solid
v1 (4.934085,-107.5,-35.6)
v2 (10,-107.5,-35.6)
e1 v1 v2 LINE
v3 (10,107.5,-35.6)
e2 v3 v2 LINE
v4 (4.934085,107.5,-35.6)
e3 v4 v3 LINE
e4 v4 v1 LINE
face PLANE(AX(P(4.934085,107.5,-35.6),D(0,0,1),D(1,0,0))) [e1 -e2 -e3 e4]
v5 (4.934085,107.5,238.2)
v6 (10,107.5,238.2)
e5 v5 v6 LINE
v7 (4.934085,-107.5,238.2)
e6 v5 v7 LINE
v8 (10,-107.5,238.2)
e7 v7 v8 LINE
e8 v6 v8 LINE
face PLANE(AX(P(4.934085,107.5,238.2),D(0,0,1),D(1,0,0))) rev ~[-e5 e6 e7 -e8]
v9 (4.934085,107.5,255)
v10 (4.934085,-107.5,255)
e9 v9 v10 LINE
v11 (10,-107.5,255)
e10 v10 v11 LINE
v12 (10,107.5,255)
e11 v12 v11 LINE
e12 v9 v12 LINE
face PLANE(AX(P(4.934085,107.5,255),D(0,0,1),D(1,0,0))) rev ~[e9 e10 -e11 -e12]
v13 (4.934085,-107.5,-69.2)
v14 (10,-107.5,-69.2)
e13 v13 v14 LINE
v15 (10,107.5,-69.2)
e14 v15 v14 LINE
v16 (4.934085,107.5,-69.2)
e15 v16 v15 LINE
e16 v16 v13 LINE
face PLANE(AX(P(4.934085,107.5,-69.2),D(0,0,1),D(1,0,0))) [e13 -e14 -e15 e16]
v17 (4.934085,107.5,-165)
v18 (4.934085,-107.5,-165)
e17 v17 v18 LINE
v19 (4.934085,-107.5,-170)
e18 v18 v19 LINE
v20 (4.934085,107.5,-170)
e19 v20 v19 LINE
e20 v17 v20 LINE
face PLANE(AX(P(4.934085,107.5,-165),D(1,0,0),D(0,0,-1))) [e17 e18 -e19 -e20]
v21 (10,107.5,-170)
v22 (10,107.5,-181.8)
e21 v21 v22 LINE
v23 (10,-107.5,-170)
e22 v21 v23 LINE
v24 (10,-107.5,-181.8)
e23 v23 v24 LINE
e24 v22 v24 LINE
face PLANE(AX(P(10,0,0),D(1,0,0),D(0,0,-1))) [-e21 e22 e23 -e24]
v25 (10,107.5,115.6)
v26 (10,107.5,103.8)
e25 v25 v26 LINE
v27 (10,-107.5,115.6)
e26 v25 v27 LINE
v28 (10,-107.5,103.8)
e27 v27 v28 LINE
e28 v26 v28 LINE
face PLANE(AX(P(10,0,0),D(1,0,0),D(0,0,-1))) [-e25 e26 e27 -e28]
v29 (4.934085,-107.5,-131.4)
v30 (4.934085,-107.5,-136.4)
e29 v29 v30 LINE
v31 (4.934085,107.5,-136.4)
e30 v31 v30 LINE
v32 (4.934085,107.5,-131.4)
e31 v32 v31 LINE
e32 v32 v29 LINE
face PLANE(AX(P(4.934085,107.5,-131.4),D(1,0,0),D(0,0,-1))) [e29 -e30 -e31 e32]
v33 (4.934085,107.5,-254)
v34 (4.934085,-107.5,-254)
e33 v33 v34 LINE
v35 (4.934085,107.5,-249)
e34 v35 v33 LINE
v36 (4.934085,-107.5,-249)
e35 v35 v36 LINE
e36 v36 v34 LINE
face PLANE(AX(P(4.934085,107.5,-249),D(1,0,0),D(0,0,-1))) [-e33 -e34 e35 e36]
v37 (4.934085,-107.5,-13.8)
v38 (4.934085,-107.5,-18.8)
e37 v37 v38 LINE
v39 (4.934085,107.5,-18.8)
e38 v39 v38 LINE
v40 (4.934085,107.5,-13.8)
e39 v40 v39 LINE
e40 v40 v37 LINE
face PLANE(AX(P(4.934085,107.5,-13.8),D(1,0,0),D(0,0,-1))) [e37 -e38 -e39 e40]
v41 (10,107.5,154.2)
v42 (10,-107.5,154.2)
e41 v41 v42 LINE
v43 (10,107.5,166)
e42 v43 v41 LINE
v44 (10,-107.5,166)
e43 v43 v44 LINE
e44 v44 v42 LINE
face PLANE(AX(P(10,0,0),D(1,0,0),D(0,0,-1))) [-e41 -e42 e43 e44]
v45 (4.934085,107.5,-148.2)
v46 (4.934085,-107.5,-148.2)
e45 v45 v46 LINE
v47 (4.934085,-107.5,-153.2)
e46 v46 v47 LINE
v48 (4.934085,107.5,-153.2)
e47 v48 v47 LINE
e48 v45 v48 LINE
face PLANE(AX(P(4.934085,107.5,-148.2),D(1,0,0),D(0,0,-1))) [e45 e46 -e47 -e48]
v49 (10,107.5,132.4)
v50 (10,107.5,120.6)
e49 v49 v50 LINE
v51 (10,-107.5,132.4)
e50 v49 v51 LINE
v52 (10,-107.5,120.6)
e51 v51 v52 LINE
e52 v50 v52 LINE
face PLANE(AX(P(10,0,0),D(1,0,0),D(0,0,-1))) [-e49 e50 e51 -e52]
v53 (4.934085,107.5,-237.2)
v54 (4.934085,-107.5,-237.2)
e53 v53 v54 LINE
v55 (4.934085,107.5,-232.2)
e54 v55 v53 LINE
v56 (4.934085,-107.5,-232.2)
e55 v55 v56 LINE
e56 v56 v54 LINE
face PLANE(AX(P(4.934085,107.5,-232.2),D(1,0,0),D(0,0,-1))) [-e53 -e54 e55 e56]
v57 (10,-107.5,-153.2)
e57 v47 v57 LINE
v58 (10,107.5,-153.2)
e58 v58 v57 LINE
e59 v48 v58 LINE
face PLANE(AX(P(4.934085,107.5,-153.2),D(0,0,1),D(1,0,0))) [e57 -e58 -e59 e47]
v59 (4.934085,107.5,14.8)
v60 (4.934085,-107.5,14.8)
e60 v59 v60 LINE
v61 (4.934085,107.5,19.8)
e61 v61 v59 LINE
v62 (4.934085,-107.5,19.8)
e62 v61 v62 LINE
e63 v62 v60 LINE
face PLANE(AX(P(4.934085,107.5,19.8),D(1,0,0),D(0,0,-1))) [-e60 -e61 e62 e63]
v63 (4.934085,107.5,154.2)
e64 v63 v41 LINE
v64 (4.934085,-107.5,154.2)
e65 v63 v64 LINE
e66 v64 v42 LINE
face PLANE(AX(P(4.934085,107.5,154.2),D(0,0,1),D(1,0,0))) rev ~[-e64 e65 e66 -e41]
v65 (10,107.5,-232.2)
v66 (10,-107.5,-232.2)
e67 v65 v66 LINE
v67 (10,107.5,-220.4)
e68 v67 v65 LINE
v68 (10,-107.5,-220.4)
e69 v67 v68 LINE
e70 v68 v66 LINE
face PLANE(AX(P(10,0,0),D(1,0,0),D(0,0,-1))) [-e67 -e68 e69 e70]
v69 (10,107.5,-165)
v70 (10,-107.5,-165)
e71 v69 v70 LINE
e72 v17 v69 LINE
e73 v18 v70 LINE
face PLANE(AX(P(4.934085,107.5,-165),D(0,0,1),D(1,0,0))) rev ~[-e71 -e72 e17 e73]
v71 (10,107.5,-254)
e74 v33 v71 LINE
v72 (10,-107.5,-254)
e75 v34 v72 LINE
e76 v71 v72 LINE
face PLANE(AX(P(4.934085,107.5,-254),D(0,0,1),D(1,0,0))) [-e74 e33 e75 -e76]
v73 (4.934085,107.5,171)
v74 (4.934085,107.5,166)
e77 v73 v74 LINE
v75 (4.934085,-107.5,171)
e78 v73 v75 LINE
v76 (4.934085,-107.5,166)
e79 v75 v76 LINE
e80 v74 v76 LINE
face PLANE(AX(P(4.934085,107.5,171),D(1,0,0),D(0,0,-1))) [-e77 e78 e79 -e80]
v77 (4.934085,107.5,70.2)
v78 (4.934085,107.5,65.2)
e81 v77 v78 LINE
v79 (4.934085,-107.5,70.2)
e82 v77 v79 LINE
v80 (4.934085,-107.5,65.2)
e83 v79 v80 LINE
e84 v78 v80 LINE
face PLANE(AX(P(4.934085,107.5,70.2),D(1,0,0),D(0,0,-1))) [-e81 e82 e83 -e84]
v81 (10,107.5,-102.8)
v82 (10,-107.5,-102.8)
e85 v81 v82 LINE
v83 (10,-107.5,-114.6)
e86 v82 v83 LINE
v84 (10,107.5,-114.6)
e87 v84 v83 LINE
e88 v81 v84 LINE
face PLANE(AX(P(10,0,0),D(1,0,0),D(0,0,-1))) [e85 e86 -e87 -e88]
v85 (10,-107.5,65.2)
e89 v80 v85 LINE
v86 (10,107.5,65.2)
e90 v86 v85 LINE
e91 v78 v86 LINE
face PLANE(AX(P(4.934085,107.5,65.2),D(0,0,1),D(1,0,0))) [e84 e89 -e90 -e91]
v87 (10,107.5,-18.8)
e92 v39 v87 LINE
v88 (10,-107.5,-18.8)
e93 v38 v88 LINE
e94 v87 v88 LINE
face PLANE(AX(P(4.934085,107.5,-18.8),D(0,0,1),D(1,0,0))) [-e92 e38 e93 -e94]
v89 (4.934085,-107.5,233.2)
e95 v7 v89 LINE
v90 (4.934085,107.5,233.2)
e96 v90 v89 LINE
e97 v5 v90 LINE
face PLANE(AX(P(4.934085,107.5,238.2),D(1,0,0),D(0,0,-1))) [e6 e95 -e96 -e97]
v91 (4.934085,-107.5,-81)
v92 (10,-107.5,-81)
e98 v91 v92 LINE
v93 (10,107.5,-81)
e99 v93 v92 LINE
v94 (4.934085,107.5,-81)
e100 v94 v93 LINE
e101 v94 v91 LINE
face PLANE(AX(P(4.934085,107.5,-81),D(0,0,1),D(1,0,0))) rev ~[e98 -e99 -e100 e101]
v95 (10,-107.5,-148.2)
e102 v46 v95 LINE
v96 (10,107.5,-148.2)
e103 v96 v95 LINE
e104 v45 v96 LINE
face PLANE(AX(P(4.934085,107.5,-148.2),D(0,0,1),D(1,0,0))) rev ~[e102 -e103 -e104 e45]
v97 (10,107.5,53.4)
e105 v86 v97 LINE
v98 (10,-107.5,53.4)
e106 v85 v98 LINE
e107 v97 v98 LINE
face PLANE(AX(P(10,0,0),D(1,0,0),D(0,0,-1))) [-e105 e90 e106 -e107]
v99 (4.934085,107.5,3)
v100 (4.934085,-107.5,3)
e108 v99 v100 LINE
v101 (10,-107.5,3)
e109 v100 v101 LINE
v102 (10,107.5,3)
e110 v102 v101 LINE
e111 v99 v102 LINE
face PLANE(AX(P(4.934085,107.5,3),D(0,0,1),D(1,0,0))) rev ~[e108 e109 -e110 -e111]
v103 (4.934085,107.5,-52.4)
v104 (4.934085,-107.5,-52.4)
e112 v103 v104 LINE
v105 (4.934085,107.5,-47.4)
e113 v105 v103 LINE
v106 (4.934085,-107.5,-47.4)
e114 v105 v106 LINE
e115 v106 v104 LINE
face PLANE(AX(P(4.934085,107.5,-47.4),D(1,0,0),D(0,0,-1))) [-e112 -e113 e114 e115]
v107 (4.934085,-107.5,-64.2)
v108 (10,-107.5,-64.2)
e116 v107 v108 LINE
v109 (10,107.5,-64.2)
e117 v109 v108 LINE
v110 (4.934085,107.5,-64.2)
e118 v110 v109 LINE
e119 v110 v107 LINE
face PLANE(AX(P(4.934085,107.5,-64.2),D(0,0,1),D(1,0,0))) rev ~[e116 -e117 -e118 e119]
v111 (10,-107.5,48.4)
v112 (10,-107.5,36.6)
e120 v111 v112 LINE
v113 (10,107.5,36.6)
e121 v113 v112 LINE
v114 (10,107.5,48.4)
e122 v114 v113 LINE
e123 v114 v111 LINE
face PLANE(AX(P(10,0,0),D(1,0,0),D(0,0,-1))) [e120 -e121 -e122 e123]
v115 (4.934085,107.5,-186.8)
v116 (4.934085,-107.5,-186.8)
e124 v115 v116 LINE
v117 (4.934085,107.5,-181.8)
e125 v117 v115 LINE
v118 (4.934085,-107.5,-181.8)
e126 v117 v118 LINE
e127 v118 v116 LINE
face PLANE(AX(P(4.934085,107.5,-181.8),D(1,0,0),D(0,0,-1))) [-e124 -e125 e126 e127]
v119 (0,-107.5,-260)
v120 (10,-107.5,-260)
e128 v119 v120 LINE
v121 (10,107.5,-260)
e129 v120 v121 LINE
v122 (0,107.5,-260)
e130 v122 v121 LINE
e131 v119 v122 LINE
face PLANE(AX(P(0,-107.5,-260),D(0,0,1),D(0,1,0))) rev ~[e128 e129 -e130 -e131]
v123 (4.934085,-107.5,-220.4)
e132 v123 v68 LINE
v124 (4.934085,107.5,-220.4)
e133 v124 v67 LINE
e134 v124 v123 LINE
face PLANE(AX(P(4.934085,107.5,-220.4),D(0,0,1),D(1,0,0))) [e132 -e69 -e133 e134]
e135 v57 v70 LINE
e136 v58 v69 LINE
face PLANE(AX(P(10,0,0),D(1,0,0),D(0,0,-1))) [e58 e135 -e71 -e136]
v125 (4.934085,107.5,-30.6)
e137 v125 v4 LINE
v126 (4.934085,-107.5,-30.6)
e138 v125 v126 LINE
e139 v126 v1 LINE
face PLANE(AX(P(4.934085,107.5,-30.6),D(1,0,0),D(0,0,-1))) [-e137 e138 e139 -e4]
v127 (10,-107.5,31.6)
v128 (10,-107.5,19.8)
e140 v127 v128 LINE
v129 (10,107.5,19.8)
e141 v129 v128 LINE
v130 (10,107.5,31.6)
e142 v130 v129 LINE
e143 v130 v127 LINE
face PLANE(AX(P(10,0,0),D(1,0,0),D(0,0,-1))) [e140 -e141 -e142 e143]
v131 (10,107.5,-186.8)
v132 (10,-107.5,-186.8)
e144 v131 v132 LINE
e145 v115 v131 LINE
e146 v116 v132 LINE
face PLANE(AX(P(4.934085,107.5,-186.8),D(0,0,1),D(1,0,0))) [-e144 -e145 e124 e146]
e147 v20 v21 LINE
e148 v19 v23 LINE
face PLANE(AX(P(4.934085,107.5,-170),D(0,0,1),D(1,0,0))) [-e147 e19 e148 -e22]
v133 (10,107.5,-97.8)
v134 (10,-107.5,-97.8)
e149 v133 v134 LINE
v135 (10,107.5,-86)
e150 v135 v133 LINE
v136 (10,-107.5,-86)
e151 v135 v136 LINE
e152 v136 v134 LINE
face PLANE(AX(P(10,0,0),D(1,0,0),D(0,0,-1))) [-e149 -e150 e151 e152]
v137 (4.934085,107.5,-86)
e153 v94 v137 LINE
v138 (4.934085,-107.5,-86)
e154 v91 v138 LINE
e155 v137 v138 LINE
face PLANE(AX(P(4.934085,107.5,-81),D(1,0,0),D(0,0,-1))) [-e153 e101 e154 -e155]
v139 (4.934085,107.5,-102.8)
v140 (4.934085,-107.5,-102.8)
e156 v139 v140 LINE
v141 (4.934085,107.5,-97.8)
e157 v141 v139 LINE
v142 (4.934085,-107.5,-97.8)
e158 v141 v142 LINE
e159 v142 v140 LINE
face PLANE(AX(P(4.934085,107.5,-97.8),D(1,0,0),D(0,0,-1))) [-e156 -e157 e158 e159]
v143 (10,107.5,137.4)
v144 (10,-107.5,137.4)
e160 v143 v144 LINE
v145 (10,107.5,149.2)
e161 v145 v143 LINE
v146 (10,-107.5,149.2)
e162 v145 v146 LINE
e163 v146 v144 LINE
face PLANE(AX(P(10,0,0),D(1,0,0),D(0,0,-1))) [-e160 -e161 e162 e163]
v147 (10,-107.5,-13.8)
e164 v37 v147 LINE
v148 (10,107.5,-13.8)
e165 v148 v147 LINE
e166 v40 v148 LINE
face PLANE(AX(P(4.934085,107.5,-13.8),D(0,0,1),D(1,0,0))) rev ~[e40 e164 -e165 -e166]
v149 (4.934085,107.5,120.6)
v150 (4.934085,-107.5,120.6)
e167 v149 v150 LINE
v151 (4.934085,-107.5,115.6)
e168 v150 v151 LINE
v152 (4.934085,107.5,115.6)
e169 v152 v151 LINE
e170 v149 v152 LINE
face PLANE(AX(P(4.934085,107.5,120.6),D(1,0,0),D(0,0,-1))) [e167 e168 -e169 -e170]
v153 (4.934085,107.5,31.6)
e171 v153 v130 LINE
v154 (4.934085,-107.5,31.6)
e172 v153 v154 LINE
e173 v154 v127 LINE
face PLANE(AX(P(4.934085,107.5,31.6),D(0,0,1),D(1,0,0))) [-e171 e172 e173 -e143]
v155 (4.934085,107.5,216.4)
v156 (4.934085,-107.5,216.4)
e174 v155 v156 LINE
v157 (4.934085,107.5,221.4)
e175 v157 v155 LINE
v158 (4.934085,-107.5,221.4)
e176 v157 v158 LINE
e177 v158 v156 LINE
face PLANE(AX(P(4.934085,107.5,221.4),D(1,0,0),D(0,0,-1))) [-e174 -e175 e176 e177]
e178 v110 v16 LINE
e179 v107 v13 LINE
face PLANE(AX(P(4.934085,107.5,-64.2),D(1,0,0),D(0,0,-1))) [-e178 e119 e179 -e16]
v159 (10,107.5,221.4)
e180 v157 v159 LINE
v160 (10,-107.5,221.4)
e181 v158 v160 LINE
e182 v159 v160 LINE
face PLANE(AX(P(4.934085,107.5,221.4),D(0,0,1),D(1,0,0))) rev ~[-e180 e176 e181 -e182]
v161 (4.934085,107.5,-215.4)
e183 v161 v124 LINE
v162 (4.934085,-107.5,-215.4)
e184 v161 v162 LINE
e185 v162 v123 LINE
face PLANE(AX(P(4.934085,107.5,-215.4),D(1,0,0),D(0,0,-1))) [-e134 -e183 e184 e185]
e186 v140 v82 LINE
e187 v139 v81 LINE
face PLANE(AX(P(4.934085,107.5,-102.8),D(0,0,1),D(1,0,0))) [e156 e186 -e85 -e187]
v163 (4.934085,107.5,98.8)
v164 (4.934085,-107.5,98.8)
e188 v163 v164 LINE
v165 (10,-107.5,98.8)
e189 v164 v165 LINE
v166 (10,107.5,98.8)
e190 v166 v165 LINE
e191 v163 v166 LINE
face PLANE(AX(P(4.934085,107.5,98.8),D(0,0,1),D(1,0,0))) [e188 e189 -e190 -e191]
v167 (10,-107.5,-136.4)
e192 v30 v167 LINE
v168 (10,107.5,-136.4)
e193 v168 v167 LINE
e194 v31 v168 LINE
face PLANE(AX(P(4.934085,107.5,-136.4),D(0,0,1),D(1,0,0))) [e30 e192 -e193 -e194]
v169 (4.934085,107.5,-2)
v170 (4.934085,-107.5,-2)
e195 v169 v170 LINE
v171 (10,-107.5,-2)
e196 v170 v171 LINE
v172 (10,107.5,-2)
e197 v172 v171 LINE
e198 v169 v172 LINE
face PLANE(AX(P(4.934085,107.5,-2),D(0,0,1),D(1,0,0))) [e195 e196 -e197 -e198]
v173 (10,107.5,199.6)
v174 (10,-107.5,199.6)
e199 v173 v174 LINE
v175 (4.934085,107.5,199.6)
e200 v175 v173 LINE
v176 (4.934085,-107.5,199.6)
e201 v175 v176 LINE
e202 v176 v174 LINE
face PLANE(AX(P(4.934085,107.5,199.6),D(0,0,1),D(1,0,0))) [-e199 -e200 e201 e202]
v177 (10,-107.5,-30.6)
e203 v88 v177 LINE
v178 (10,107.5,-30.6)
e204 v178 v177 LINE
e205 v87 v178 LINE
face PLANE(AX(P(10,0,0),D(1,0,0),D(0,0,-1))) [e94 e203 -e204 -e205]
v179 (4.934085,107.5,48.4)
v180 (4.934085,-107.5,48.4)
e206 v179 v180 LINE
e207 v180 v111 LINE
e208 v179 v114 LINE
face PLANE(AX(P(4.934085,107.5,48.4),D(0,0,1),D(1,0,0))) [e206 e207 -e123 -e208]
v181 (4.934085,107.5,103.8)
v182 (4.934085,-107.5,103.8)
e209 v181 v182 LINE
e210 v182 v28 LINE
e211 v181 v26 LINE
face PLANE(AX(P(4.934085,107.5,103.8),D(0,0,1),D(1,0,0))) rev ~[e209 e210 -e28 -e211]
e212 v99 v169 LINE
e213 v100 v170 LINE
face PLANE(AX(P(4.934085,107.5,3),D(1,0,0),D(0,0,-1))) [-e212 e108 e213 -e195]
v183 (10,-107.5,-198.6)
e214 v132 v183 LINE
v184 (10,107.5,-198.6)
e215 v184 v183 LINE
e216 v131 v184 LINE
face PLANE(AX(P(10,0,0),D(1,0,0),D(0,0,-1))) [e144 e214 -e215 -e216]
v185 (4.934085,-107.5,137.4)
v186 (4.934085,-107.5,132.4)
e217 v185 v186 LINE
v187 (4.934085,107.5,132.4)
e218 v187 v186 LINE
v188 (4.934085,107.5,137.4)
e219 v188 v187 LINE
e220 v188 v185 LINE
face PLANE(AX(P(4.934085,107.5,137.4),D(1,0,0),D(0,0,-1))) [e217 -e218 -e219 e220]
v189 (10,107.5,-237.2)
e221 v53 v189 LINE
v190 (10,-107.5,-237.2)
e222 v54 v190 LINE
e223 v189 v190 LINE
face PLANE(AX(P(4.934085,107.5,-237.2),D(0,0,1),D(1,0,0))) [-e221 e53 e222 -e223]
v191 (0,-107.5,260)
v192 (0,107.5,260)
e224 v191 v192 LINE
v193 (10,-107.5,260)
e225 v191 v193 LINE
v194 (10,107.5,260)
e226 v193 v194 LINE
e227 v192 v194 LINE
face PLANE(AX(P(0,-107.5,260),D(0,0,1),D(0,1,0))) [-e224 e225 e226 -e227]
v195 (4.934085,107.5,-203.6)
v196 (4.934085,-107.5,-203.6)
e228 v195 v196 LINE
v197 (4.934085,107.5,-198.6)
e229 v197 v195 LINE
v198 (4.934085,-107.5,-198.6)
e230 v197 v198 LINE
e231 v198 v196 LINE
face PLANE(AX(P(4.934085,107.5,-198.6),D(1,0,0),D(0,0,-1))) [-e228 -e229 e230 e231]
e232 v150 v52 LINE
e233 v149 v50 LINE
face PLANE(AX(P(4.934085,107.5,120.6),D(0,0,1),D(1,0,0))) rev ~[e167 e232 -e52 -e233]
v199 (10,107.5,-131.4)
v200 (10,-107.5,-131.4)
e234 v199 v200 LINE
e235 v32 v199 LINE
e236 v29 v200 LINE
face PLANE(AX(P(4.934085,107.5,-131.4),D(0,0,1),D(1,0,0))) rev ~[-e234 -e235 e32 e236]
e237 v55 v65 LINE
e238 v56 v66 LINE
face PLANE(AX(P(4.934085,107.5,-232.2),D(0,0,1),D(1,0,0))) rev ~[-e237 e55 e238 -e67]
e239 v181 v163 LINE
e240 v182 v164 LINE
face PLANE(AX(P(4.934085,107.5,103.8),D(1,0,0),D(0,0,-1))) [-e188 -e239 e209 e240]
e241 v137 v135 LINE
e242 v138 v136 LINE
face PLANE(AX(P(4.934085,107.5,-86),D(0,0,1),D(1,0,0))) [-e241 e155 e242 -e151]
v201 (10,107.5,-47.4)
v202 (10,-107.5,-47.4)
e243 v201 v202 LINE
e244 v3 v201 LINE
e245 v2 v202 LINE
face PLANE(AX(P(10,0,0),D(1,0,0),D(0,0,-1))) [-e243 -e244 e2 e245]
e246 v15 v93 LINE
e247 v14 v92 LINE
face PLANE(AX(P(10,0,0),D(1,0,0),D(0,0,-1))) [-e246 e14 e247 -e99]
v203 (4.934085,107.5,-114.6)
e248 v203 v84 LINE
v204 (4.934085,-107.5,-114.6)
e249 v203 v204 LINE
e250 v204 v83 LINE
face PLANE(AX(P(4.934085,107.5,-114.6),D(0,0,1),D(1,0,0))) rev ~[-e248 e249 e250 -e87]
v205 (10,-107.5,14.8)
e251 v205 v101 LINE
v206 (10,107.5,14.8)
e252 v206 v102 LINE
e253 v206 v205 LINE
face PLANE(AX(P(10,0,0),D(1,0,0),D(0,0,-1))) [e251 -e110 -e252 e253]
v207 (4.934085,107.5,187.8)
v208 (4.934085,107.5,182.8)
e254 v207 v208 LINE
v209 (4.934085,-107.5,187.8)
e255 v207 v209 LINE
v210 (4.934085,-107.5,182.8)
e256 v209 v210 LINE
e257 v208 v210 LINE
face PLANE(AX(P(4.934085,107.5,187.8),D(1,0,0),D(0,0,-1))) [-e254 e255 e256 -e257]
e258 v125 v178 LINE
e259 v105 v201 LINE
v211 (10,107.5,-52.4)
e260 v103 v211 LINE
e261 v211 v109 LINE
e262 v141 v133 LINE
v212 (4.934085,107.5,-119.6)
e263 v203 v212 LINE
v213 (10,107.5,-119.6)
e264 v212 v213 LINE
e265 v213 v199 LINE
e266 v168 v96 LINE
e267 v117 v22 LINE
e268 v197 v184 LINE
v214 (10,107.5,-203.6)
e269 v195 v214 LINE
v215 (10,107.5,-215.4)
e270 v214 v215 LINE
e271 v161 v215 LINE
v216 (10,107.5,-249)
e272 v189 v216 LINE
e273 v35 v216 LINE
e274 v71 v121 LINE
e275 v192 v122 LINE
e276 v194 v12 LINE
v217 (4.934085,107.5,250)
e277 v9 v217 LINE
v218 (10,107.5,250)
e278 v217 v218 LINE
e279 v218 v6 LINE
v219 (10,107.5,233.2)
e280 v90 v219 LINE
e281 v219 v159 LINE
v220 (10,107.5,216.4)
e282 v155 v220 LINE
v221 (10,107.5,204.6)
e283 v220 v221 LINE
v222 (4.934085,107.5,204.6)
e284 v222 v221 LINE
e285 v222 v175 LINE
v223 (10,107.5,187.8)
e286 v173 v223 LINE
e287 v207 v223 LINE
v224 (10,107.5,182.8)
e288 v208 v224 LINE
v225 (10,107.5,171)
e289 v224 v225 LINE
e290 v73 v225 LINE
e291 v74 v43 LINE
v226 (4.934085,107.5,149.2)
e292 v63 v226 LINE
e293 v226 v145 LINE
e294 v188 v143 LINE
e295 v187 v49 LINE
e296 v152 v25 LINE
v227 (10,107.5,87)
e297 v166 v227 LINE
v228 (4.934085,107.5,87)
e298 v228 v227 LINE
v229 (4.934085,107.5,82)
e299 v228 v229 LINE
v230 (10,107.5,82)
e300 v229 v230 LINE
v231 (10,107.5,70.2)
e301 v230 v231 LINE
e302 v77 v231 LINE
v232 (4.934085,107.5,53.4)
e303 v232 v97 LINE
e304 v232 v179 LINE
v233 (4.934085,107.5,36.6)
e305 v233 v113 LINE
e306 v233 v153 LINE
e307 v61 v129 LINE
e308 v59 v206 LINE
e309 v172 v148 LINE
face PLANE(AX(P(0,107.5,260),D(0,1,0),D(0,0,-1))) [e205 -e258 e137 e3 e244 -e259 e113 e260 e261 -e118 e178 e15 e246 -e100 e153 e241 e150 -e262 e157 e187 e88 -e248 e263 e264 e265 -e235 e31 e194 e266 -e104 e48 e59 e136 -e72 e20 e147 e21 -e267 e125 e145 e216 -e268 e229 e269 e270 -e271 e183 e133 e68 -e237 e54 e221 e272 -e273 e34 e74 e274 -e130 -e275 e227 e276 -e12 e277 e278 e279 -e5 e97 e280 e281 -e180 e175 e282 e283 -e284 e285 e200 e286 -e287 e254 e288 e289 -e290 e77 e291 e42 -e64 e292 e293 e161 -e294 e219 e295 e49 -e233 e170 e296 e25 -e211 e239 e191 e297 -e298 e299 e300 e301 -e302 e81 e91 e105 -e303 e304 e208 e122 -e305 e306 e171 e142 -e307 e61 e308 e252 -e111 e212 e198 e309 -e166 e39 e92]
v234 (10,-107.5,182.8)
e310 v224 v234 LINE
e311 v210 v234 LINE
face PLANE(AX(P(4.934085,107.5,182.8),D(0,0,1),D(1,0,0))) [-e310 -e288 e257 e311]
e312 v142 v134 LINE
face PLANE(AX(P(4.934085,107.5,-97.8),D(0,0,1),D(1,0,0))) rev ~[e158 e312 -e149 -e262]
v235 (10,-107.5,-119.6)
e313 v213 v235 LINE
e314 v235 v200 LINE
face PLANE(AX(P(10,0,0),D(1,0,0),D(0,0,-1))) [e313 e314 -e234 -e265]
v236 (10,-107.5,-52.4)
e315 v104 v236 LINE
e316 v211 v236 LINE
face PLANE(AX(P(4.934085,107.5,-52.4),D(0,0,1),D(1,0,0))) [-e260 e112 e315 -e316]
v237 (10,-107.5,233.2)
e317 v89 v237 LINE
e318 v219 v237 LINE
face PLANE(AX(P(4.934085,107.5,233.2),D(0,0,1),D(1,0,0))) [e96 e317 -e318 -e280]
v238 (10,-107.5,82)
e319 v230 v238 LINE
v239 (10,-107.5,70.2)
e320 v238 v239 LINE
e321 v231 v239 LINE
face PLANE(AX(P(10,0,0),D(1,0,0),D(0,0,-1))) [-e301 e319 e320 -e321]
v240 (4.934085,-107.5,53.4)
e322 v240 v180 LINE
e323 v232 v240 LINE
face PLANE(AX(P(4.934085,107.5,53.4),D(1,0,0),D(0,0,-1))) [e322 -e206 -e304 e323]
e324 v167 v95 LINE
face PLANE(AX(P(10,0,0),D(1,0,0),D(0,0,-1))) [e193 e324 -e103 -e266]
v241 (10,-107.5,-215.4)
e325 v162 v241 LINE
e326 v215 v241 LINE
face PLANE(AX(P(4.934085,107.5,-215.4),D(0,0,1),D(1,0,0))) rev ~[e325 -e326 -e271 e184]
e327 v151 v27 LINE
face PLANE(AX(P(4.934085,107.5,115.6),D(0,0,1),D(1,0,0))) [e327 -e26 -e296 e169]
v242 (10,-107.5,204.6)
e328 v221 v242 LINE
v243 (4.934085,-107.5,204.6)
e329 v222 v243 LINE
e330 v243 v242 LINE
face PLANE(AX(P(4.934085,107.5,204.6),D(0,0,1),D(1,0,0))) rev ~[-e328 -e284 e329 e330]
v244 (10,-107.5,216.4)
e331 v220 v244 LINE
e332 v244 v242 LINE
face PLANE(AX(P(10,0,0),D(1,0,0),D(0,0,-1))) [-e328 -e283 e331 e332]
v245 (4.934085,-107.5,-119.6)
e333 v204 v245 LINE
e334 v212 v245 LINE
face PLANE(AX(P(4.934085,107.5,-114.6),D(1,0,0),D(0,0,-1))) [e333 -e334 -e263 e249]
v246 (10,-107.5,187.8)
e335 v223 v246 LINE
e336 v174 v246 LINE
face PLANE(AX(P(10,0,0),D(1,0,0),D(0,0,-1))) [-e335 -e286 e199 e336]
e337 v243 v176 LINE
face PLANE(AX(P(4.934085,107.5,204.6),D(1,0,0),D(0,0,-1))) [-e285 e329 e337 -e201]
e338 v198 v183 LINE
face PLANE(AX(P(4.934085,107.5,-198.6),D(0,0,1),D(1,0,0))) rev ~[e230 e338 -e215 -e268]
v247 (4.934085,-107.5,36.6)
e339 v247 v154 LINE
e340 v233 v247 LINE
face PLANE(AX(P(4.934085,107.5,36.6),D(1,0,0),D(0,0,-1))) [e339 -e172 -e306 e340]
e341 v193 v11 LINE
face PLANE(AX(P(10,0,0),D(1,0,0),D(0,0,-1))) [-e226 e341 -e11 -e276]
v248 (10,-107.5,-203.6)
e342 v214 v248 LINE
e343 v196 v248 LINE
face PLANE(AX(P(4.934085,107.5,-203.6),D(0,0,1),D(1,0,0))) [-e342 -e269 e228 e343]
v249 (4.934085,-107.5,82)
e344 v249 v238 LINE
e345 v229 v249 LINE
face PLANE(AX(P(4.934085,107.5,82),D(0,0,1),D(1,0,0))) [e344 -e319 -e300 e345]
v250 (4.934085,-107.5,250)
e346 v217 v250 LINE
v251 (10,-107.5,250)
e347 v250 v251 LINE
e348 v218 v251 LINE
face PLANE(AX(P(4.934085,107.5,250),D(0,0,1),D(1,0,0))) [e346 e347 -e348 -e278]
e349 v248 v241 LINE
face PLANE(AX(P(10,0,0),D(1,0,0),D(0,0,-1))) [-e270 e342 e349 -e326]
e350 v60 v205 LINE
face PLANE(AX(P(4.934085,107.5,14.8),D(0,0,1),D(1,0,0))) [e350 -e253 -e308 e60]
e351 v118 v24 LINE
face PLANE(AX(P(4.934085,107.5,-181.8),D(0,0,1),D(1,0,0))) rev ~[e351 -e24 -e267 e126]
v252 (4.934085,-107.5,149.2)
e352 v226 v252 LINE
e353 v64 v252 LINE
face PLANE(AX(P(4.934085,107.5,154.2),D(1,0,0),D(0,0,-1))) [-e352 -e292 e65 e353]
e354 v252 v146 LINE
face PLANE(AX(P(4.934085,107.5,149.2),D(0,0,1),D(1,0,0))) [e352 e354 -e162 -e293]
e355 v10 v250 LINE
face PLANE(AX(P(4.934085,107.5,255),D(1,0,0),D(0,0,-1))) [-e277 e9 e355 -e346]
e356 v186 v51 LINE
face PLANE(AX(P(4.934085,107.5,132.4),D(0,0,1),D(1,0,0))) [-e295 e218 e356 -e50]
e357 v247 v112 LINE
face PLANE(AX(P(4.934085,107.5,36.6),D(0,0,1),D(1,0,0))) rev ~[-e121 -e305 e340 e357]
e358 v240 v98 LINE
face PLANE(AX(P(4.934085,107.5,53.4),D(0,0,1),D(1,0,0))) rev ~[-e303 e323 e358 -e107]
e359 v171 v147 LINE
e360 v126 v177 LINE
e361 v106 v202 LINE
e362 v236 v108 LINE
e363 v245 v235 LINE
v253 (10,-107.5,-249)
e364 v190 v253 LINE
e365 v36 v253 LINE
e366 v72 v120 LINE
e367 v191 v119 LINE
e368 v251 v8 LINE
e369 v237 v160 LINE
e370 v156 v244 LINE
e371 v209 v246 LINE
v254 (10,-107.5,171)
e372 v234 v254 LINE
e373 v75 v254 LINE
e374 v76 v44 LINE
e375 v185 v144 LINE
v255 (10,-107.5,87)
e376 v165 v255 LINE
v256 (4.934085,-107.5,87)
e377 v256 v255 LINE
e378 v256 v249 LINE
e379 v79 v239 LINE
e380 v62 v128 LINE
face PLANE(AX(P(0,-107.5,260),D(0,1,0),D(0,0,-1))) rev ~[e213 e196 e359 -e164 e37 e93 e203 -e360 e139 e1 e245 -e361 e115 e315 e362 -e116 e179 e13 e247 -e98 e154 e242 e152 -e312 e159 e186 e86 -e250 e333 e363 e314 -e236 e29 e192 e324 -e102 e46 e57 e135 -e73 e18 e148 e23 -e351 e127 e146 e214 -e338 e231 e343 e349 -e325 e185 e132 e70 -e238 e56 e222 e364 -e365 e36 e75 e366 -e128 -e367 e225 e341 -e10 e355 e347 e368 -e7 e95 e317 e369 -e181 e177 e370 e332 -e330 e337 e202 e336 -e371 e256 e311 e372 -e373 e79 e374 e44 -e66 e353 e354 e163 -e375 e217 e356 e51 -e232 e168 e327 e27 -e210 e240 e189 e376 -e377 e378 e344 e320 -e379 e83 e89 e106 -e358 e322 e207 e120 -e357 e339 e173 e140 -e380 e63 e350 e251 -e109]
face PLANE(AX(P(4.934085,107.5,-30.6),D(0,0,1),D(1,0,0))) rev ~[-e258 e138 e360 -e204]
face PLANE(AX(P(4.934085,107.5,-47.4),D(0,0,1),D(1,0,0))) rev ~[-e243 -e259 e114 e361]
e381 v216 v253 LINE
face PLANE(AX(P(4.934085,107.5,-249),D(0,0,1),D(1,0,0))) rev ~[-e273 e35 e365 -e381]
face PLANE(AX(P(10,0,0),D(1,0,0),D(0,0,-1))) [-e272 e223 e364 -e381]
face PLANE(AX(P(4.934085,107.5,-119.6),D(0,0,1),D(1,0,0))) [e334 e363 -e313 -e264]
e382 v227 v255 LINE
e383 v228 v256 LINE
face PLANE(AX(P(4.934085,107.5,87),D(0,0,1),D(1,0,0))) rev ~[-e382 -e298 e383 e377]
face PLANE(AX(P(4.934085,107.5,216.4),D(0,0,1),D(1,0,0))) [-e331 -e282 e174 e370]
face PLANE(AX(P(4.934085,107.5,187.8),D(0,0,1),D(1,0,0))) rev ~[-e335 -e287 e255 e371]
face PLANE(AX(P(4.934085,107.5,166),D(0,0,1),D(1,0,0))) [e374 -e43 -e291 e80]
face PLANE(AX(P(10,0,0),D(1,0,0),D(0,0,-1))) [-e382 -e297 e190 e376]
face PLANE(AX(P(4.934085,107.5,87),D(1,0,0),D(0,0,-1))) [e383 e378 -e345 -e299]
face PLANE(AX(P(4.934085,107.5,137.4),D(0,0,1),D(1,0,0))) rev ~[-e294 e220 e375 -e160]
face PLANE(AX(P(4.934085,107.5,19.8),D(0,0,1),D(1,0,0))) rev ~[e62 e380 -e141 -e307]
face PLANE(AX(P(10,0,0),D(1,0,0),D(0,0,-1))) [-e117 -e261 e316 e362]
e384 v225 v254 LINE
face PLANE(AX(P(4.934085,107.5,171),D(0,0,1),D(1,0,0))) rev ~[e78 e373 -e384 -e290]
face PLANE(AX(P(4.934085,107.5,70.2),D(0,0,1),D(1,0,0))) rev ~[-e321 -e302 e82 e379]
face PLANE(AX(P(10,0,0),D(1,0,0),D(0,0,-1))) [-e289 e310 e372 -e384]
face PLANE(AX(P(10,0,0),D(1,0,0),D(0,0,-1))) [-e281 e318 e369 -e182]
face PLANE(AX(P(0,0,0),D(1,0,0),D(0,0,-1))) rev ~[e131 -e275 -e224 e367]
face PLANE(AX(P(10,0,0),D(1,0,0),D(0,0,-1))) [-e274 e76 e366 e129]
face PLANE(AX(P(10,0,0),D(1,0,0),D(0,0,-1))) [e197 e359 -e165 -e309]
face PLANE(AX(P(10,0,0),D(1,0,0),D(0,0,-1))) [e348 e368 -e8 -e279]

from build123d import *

# Parameters (mm, degrees)
SKETCH1_W           = 520
SKETCH1_H           = 215
BOSS_EXTRUDE1_DEPTH = 10
SKETCH2_W           = 10.131829772
SKETCH2_H           = 5
CUT_EXTRUDE1_DEPTH  = 216
LPATTERN1_COUNT     = 31
LPATTERN1_PITCH     = 16.8


with BuildPart() as part:
    # Sketch1 → Boss-Extrude1 (new body)
    with BuildSketch(Plane(origin=(0, 0, 0), x_dir=(0, 0, -1), z_dir=(1, 0, 0))):
        Rectangle(SKETCH1_W, SKETCH1_H)
    extrude(amount=BOSS_EXTRUDE1_DEPTH)

    # Sketch2 → Cut-Extrude1 (cut, through all)
    with BuildSketch(Plane(origin=(0, 107.5, 0), x_dir=(1, 0, 0), z_dir=(0, 1, 0))):
        with Locations((10, -252.5)):
            Rectangle(SKETCH2_W, SKETCH2_H)
    cut_extrude1 = extrude(amount=-CUT_EXTRUDE1_DEPTH, mode=Mode.SUBTRACT)

    # LPattern1: Cut-Extrude1 ×31
    with Locations(*[(0, 0, -i * LPATTERN1_PITCH) for i in range(1, LPATTERN1_COUNT)]):
        add(cut_extrude1, mode=Mode.SUBTRACT)


solid = part.part
